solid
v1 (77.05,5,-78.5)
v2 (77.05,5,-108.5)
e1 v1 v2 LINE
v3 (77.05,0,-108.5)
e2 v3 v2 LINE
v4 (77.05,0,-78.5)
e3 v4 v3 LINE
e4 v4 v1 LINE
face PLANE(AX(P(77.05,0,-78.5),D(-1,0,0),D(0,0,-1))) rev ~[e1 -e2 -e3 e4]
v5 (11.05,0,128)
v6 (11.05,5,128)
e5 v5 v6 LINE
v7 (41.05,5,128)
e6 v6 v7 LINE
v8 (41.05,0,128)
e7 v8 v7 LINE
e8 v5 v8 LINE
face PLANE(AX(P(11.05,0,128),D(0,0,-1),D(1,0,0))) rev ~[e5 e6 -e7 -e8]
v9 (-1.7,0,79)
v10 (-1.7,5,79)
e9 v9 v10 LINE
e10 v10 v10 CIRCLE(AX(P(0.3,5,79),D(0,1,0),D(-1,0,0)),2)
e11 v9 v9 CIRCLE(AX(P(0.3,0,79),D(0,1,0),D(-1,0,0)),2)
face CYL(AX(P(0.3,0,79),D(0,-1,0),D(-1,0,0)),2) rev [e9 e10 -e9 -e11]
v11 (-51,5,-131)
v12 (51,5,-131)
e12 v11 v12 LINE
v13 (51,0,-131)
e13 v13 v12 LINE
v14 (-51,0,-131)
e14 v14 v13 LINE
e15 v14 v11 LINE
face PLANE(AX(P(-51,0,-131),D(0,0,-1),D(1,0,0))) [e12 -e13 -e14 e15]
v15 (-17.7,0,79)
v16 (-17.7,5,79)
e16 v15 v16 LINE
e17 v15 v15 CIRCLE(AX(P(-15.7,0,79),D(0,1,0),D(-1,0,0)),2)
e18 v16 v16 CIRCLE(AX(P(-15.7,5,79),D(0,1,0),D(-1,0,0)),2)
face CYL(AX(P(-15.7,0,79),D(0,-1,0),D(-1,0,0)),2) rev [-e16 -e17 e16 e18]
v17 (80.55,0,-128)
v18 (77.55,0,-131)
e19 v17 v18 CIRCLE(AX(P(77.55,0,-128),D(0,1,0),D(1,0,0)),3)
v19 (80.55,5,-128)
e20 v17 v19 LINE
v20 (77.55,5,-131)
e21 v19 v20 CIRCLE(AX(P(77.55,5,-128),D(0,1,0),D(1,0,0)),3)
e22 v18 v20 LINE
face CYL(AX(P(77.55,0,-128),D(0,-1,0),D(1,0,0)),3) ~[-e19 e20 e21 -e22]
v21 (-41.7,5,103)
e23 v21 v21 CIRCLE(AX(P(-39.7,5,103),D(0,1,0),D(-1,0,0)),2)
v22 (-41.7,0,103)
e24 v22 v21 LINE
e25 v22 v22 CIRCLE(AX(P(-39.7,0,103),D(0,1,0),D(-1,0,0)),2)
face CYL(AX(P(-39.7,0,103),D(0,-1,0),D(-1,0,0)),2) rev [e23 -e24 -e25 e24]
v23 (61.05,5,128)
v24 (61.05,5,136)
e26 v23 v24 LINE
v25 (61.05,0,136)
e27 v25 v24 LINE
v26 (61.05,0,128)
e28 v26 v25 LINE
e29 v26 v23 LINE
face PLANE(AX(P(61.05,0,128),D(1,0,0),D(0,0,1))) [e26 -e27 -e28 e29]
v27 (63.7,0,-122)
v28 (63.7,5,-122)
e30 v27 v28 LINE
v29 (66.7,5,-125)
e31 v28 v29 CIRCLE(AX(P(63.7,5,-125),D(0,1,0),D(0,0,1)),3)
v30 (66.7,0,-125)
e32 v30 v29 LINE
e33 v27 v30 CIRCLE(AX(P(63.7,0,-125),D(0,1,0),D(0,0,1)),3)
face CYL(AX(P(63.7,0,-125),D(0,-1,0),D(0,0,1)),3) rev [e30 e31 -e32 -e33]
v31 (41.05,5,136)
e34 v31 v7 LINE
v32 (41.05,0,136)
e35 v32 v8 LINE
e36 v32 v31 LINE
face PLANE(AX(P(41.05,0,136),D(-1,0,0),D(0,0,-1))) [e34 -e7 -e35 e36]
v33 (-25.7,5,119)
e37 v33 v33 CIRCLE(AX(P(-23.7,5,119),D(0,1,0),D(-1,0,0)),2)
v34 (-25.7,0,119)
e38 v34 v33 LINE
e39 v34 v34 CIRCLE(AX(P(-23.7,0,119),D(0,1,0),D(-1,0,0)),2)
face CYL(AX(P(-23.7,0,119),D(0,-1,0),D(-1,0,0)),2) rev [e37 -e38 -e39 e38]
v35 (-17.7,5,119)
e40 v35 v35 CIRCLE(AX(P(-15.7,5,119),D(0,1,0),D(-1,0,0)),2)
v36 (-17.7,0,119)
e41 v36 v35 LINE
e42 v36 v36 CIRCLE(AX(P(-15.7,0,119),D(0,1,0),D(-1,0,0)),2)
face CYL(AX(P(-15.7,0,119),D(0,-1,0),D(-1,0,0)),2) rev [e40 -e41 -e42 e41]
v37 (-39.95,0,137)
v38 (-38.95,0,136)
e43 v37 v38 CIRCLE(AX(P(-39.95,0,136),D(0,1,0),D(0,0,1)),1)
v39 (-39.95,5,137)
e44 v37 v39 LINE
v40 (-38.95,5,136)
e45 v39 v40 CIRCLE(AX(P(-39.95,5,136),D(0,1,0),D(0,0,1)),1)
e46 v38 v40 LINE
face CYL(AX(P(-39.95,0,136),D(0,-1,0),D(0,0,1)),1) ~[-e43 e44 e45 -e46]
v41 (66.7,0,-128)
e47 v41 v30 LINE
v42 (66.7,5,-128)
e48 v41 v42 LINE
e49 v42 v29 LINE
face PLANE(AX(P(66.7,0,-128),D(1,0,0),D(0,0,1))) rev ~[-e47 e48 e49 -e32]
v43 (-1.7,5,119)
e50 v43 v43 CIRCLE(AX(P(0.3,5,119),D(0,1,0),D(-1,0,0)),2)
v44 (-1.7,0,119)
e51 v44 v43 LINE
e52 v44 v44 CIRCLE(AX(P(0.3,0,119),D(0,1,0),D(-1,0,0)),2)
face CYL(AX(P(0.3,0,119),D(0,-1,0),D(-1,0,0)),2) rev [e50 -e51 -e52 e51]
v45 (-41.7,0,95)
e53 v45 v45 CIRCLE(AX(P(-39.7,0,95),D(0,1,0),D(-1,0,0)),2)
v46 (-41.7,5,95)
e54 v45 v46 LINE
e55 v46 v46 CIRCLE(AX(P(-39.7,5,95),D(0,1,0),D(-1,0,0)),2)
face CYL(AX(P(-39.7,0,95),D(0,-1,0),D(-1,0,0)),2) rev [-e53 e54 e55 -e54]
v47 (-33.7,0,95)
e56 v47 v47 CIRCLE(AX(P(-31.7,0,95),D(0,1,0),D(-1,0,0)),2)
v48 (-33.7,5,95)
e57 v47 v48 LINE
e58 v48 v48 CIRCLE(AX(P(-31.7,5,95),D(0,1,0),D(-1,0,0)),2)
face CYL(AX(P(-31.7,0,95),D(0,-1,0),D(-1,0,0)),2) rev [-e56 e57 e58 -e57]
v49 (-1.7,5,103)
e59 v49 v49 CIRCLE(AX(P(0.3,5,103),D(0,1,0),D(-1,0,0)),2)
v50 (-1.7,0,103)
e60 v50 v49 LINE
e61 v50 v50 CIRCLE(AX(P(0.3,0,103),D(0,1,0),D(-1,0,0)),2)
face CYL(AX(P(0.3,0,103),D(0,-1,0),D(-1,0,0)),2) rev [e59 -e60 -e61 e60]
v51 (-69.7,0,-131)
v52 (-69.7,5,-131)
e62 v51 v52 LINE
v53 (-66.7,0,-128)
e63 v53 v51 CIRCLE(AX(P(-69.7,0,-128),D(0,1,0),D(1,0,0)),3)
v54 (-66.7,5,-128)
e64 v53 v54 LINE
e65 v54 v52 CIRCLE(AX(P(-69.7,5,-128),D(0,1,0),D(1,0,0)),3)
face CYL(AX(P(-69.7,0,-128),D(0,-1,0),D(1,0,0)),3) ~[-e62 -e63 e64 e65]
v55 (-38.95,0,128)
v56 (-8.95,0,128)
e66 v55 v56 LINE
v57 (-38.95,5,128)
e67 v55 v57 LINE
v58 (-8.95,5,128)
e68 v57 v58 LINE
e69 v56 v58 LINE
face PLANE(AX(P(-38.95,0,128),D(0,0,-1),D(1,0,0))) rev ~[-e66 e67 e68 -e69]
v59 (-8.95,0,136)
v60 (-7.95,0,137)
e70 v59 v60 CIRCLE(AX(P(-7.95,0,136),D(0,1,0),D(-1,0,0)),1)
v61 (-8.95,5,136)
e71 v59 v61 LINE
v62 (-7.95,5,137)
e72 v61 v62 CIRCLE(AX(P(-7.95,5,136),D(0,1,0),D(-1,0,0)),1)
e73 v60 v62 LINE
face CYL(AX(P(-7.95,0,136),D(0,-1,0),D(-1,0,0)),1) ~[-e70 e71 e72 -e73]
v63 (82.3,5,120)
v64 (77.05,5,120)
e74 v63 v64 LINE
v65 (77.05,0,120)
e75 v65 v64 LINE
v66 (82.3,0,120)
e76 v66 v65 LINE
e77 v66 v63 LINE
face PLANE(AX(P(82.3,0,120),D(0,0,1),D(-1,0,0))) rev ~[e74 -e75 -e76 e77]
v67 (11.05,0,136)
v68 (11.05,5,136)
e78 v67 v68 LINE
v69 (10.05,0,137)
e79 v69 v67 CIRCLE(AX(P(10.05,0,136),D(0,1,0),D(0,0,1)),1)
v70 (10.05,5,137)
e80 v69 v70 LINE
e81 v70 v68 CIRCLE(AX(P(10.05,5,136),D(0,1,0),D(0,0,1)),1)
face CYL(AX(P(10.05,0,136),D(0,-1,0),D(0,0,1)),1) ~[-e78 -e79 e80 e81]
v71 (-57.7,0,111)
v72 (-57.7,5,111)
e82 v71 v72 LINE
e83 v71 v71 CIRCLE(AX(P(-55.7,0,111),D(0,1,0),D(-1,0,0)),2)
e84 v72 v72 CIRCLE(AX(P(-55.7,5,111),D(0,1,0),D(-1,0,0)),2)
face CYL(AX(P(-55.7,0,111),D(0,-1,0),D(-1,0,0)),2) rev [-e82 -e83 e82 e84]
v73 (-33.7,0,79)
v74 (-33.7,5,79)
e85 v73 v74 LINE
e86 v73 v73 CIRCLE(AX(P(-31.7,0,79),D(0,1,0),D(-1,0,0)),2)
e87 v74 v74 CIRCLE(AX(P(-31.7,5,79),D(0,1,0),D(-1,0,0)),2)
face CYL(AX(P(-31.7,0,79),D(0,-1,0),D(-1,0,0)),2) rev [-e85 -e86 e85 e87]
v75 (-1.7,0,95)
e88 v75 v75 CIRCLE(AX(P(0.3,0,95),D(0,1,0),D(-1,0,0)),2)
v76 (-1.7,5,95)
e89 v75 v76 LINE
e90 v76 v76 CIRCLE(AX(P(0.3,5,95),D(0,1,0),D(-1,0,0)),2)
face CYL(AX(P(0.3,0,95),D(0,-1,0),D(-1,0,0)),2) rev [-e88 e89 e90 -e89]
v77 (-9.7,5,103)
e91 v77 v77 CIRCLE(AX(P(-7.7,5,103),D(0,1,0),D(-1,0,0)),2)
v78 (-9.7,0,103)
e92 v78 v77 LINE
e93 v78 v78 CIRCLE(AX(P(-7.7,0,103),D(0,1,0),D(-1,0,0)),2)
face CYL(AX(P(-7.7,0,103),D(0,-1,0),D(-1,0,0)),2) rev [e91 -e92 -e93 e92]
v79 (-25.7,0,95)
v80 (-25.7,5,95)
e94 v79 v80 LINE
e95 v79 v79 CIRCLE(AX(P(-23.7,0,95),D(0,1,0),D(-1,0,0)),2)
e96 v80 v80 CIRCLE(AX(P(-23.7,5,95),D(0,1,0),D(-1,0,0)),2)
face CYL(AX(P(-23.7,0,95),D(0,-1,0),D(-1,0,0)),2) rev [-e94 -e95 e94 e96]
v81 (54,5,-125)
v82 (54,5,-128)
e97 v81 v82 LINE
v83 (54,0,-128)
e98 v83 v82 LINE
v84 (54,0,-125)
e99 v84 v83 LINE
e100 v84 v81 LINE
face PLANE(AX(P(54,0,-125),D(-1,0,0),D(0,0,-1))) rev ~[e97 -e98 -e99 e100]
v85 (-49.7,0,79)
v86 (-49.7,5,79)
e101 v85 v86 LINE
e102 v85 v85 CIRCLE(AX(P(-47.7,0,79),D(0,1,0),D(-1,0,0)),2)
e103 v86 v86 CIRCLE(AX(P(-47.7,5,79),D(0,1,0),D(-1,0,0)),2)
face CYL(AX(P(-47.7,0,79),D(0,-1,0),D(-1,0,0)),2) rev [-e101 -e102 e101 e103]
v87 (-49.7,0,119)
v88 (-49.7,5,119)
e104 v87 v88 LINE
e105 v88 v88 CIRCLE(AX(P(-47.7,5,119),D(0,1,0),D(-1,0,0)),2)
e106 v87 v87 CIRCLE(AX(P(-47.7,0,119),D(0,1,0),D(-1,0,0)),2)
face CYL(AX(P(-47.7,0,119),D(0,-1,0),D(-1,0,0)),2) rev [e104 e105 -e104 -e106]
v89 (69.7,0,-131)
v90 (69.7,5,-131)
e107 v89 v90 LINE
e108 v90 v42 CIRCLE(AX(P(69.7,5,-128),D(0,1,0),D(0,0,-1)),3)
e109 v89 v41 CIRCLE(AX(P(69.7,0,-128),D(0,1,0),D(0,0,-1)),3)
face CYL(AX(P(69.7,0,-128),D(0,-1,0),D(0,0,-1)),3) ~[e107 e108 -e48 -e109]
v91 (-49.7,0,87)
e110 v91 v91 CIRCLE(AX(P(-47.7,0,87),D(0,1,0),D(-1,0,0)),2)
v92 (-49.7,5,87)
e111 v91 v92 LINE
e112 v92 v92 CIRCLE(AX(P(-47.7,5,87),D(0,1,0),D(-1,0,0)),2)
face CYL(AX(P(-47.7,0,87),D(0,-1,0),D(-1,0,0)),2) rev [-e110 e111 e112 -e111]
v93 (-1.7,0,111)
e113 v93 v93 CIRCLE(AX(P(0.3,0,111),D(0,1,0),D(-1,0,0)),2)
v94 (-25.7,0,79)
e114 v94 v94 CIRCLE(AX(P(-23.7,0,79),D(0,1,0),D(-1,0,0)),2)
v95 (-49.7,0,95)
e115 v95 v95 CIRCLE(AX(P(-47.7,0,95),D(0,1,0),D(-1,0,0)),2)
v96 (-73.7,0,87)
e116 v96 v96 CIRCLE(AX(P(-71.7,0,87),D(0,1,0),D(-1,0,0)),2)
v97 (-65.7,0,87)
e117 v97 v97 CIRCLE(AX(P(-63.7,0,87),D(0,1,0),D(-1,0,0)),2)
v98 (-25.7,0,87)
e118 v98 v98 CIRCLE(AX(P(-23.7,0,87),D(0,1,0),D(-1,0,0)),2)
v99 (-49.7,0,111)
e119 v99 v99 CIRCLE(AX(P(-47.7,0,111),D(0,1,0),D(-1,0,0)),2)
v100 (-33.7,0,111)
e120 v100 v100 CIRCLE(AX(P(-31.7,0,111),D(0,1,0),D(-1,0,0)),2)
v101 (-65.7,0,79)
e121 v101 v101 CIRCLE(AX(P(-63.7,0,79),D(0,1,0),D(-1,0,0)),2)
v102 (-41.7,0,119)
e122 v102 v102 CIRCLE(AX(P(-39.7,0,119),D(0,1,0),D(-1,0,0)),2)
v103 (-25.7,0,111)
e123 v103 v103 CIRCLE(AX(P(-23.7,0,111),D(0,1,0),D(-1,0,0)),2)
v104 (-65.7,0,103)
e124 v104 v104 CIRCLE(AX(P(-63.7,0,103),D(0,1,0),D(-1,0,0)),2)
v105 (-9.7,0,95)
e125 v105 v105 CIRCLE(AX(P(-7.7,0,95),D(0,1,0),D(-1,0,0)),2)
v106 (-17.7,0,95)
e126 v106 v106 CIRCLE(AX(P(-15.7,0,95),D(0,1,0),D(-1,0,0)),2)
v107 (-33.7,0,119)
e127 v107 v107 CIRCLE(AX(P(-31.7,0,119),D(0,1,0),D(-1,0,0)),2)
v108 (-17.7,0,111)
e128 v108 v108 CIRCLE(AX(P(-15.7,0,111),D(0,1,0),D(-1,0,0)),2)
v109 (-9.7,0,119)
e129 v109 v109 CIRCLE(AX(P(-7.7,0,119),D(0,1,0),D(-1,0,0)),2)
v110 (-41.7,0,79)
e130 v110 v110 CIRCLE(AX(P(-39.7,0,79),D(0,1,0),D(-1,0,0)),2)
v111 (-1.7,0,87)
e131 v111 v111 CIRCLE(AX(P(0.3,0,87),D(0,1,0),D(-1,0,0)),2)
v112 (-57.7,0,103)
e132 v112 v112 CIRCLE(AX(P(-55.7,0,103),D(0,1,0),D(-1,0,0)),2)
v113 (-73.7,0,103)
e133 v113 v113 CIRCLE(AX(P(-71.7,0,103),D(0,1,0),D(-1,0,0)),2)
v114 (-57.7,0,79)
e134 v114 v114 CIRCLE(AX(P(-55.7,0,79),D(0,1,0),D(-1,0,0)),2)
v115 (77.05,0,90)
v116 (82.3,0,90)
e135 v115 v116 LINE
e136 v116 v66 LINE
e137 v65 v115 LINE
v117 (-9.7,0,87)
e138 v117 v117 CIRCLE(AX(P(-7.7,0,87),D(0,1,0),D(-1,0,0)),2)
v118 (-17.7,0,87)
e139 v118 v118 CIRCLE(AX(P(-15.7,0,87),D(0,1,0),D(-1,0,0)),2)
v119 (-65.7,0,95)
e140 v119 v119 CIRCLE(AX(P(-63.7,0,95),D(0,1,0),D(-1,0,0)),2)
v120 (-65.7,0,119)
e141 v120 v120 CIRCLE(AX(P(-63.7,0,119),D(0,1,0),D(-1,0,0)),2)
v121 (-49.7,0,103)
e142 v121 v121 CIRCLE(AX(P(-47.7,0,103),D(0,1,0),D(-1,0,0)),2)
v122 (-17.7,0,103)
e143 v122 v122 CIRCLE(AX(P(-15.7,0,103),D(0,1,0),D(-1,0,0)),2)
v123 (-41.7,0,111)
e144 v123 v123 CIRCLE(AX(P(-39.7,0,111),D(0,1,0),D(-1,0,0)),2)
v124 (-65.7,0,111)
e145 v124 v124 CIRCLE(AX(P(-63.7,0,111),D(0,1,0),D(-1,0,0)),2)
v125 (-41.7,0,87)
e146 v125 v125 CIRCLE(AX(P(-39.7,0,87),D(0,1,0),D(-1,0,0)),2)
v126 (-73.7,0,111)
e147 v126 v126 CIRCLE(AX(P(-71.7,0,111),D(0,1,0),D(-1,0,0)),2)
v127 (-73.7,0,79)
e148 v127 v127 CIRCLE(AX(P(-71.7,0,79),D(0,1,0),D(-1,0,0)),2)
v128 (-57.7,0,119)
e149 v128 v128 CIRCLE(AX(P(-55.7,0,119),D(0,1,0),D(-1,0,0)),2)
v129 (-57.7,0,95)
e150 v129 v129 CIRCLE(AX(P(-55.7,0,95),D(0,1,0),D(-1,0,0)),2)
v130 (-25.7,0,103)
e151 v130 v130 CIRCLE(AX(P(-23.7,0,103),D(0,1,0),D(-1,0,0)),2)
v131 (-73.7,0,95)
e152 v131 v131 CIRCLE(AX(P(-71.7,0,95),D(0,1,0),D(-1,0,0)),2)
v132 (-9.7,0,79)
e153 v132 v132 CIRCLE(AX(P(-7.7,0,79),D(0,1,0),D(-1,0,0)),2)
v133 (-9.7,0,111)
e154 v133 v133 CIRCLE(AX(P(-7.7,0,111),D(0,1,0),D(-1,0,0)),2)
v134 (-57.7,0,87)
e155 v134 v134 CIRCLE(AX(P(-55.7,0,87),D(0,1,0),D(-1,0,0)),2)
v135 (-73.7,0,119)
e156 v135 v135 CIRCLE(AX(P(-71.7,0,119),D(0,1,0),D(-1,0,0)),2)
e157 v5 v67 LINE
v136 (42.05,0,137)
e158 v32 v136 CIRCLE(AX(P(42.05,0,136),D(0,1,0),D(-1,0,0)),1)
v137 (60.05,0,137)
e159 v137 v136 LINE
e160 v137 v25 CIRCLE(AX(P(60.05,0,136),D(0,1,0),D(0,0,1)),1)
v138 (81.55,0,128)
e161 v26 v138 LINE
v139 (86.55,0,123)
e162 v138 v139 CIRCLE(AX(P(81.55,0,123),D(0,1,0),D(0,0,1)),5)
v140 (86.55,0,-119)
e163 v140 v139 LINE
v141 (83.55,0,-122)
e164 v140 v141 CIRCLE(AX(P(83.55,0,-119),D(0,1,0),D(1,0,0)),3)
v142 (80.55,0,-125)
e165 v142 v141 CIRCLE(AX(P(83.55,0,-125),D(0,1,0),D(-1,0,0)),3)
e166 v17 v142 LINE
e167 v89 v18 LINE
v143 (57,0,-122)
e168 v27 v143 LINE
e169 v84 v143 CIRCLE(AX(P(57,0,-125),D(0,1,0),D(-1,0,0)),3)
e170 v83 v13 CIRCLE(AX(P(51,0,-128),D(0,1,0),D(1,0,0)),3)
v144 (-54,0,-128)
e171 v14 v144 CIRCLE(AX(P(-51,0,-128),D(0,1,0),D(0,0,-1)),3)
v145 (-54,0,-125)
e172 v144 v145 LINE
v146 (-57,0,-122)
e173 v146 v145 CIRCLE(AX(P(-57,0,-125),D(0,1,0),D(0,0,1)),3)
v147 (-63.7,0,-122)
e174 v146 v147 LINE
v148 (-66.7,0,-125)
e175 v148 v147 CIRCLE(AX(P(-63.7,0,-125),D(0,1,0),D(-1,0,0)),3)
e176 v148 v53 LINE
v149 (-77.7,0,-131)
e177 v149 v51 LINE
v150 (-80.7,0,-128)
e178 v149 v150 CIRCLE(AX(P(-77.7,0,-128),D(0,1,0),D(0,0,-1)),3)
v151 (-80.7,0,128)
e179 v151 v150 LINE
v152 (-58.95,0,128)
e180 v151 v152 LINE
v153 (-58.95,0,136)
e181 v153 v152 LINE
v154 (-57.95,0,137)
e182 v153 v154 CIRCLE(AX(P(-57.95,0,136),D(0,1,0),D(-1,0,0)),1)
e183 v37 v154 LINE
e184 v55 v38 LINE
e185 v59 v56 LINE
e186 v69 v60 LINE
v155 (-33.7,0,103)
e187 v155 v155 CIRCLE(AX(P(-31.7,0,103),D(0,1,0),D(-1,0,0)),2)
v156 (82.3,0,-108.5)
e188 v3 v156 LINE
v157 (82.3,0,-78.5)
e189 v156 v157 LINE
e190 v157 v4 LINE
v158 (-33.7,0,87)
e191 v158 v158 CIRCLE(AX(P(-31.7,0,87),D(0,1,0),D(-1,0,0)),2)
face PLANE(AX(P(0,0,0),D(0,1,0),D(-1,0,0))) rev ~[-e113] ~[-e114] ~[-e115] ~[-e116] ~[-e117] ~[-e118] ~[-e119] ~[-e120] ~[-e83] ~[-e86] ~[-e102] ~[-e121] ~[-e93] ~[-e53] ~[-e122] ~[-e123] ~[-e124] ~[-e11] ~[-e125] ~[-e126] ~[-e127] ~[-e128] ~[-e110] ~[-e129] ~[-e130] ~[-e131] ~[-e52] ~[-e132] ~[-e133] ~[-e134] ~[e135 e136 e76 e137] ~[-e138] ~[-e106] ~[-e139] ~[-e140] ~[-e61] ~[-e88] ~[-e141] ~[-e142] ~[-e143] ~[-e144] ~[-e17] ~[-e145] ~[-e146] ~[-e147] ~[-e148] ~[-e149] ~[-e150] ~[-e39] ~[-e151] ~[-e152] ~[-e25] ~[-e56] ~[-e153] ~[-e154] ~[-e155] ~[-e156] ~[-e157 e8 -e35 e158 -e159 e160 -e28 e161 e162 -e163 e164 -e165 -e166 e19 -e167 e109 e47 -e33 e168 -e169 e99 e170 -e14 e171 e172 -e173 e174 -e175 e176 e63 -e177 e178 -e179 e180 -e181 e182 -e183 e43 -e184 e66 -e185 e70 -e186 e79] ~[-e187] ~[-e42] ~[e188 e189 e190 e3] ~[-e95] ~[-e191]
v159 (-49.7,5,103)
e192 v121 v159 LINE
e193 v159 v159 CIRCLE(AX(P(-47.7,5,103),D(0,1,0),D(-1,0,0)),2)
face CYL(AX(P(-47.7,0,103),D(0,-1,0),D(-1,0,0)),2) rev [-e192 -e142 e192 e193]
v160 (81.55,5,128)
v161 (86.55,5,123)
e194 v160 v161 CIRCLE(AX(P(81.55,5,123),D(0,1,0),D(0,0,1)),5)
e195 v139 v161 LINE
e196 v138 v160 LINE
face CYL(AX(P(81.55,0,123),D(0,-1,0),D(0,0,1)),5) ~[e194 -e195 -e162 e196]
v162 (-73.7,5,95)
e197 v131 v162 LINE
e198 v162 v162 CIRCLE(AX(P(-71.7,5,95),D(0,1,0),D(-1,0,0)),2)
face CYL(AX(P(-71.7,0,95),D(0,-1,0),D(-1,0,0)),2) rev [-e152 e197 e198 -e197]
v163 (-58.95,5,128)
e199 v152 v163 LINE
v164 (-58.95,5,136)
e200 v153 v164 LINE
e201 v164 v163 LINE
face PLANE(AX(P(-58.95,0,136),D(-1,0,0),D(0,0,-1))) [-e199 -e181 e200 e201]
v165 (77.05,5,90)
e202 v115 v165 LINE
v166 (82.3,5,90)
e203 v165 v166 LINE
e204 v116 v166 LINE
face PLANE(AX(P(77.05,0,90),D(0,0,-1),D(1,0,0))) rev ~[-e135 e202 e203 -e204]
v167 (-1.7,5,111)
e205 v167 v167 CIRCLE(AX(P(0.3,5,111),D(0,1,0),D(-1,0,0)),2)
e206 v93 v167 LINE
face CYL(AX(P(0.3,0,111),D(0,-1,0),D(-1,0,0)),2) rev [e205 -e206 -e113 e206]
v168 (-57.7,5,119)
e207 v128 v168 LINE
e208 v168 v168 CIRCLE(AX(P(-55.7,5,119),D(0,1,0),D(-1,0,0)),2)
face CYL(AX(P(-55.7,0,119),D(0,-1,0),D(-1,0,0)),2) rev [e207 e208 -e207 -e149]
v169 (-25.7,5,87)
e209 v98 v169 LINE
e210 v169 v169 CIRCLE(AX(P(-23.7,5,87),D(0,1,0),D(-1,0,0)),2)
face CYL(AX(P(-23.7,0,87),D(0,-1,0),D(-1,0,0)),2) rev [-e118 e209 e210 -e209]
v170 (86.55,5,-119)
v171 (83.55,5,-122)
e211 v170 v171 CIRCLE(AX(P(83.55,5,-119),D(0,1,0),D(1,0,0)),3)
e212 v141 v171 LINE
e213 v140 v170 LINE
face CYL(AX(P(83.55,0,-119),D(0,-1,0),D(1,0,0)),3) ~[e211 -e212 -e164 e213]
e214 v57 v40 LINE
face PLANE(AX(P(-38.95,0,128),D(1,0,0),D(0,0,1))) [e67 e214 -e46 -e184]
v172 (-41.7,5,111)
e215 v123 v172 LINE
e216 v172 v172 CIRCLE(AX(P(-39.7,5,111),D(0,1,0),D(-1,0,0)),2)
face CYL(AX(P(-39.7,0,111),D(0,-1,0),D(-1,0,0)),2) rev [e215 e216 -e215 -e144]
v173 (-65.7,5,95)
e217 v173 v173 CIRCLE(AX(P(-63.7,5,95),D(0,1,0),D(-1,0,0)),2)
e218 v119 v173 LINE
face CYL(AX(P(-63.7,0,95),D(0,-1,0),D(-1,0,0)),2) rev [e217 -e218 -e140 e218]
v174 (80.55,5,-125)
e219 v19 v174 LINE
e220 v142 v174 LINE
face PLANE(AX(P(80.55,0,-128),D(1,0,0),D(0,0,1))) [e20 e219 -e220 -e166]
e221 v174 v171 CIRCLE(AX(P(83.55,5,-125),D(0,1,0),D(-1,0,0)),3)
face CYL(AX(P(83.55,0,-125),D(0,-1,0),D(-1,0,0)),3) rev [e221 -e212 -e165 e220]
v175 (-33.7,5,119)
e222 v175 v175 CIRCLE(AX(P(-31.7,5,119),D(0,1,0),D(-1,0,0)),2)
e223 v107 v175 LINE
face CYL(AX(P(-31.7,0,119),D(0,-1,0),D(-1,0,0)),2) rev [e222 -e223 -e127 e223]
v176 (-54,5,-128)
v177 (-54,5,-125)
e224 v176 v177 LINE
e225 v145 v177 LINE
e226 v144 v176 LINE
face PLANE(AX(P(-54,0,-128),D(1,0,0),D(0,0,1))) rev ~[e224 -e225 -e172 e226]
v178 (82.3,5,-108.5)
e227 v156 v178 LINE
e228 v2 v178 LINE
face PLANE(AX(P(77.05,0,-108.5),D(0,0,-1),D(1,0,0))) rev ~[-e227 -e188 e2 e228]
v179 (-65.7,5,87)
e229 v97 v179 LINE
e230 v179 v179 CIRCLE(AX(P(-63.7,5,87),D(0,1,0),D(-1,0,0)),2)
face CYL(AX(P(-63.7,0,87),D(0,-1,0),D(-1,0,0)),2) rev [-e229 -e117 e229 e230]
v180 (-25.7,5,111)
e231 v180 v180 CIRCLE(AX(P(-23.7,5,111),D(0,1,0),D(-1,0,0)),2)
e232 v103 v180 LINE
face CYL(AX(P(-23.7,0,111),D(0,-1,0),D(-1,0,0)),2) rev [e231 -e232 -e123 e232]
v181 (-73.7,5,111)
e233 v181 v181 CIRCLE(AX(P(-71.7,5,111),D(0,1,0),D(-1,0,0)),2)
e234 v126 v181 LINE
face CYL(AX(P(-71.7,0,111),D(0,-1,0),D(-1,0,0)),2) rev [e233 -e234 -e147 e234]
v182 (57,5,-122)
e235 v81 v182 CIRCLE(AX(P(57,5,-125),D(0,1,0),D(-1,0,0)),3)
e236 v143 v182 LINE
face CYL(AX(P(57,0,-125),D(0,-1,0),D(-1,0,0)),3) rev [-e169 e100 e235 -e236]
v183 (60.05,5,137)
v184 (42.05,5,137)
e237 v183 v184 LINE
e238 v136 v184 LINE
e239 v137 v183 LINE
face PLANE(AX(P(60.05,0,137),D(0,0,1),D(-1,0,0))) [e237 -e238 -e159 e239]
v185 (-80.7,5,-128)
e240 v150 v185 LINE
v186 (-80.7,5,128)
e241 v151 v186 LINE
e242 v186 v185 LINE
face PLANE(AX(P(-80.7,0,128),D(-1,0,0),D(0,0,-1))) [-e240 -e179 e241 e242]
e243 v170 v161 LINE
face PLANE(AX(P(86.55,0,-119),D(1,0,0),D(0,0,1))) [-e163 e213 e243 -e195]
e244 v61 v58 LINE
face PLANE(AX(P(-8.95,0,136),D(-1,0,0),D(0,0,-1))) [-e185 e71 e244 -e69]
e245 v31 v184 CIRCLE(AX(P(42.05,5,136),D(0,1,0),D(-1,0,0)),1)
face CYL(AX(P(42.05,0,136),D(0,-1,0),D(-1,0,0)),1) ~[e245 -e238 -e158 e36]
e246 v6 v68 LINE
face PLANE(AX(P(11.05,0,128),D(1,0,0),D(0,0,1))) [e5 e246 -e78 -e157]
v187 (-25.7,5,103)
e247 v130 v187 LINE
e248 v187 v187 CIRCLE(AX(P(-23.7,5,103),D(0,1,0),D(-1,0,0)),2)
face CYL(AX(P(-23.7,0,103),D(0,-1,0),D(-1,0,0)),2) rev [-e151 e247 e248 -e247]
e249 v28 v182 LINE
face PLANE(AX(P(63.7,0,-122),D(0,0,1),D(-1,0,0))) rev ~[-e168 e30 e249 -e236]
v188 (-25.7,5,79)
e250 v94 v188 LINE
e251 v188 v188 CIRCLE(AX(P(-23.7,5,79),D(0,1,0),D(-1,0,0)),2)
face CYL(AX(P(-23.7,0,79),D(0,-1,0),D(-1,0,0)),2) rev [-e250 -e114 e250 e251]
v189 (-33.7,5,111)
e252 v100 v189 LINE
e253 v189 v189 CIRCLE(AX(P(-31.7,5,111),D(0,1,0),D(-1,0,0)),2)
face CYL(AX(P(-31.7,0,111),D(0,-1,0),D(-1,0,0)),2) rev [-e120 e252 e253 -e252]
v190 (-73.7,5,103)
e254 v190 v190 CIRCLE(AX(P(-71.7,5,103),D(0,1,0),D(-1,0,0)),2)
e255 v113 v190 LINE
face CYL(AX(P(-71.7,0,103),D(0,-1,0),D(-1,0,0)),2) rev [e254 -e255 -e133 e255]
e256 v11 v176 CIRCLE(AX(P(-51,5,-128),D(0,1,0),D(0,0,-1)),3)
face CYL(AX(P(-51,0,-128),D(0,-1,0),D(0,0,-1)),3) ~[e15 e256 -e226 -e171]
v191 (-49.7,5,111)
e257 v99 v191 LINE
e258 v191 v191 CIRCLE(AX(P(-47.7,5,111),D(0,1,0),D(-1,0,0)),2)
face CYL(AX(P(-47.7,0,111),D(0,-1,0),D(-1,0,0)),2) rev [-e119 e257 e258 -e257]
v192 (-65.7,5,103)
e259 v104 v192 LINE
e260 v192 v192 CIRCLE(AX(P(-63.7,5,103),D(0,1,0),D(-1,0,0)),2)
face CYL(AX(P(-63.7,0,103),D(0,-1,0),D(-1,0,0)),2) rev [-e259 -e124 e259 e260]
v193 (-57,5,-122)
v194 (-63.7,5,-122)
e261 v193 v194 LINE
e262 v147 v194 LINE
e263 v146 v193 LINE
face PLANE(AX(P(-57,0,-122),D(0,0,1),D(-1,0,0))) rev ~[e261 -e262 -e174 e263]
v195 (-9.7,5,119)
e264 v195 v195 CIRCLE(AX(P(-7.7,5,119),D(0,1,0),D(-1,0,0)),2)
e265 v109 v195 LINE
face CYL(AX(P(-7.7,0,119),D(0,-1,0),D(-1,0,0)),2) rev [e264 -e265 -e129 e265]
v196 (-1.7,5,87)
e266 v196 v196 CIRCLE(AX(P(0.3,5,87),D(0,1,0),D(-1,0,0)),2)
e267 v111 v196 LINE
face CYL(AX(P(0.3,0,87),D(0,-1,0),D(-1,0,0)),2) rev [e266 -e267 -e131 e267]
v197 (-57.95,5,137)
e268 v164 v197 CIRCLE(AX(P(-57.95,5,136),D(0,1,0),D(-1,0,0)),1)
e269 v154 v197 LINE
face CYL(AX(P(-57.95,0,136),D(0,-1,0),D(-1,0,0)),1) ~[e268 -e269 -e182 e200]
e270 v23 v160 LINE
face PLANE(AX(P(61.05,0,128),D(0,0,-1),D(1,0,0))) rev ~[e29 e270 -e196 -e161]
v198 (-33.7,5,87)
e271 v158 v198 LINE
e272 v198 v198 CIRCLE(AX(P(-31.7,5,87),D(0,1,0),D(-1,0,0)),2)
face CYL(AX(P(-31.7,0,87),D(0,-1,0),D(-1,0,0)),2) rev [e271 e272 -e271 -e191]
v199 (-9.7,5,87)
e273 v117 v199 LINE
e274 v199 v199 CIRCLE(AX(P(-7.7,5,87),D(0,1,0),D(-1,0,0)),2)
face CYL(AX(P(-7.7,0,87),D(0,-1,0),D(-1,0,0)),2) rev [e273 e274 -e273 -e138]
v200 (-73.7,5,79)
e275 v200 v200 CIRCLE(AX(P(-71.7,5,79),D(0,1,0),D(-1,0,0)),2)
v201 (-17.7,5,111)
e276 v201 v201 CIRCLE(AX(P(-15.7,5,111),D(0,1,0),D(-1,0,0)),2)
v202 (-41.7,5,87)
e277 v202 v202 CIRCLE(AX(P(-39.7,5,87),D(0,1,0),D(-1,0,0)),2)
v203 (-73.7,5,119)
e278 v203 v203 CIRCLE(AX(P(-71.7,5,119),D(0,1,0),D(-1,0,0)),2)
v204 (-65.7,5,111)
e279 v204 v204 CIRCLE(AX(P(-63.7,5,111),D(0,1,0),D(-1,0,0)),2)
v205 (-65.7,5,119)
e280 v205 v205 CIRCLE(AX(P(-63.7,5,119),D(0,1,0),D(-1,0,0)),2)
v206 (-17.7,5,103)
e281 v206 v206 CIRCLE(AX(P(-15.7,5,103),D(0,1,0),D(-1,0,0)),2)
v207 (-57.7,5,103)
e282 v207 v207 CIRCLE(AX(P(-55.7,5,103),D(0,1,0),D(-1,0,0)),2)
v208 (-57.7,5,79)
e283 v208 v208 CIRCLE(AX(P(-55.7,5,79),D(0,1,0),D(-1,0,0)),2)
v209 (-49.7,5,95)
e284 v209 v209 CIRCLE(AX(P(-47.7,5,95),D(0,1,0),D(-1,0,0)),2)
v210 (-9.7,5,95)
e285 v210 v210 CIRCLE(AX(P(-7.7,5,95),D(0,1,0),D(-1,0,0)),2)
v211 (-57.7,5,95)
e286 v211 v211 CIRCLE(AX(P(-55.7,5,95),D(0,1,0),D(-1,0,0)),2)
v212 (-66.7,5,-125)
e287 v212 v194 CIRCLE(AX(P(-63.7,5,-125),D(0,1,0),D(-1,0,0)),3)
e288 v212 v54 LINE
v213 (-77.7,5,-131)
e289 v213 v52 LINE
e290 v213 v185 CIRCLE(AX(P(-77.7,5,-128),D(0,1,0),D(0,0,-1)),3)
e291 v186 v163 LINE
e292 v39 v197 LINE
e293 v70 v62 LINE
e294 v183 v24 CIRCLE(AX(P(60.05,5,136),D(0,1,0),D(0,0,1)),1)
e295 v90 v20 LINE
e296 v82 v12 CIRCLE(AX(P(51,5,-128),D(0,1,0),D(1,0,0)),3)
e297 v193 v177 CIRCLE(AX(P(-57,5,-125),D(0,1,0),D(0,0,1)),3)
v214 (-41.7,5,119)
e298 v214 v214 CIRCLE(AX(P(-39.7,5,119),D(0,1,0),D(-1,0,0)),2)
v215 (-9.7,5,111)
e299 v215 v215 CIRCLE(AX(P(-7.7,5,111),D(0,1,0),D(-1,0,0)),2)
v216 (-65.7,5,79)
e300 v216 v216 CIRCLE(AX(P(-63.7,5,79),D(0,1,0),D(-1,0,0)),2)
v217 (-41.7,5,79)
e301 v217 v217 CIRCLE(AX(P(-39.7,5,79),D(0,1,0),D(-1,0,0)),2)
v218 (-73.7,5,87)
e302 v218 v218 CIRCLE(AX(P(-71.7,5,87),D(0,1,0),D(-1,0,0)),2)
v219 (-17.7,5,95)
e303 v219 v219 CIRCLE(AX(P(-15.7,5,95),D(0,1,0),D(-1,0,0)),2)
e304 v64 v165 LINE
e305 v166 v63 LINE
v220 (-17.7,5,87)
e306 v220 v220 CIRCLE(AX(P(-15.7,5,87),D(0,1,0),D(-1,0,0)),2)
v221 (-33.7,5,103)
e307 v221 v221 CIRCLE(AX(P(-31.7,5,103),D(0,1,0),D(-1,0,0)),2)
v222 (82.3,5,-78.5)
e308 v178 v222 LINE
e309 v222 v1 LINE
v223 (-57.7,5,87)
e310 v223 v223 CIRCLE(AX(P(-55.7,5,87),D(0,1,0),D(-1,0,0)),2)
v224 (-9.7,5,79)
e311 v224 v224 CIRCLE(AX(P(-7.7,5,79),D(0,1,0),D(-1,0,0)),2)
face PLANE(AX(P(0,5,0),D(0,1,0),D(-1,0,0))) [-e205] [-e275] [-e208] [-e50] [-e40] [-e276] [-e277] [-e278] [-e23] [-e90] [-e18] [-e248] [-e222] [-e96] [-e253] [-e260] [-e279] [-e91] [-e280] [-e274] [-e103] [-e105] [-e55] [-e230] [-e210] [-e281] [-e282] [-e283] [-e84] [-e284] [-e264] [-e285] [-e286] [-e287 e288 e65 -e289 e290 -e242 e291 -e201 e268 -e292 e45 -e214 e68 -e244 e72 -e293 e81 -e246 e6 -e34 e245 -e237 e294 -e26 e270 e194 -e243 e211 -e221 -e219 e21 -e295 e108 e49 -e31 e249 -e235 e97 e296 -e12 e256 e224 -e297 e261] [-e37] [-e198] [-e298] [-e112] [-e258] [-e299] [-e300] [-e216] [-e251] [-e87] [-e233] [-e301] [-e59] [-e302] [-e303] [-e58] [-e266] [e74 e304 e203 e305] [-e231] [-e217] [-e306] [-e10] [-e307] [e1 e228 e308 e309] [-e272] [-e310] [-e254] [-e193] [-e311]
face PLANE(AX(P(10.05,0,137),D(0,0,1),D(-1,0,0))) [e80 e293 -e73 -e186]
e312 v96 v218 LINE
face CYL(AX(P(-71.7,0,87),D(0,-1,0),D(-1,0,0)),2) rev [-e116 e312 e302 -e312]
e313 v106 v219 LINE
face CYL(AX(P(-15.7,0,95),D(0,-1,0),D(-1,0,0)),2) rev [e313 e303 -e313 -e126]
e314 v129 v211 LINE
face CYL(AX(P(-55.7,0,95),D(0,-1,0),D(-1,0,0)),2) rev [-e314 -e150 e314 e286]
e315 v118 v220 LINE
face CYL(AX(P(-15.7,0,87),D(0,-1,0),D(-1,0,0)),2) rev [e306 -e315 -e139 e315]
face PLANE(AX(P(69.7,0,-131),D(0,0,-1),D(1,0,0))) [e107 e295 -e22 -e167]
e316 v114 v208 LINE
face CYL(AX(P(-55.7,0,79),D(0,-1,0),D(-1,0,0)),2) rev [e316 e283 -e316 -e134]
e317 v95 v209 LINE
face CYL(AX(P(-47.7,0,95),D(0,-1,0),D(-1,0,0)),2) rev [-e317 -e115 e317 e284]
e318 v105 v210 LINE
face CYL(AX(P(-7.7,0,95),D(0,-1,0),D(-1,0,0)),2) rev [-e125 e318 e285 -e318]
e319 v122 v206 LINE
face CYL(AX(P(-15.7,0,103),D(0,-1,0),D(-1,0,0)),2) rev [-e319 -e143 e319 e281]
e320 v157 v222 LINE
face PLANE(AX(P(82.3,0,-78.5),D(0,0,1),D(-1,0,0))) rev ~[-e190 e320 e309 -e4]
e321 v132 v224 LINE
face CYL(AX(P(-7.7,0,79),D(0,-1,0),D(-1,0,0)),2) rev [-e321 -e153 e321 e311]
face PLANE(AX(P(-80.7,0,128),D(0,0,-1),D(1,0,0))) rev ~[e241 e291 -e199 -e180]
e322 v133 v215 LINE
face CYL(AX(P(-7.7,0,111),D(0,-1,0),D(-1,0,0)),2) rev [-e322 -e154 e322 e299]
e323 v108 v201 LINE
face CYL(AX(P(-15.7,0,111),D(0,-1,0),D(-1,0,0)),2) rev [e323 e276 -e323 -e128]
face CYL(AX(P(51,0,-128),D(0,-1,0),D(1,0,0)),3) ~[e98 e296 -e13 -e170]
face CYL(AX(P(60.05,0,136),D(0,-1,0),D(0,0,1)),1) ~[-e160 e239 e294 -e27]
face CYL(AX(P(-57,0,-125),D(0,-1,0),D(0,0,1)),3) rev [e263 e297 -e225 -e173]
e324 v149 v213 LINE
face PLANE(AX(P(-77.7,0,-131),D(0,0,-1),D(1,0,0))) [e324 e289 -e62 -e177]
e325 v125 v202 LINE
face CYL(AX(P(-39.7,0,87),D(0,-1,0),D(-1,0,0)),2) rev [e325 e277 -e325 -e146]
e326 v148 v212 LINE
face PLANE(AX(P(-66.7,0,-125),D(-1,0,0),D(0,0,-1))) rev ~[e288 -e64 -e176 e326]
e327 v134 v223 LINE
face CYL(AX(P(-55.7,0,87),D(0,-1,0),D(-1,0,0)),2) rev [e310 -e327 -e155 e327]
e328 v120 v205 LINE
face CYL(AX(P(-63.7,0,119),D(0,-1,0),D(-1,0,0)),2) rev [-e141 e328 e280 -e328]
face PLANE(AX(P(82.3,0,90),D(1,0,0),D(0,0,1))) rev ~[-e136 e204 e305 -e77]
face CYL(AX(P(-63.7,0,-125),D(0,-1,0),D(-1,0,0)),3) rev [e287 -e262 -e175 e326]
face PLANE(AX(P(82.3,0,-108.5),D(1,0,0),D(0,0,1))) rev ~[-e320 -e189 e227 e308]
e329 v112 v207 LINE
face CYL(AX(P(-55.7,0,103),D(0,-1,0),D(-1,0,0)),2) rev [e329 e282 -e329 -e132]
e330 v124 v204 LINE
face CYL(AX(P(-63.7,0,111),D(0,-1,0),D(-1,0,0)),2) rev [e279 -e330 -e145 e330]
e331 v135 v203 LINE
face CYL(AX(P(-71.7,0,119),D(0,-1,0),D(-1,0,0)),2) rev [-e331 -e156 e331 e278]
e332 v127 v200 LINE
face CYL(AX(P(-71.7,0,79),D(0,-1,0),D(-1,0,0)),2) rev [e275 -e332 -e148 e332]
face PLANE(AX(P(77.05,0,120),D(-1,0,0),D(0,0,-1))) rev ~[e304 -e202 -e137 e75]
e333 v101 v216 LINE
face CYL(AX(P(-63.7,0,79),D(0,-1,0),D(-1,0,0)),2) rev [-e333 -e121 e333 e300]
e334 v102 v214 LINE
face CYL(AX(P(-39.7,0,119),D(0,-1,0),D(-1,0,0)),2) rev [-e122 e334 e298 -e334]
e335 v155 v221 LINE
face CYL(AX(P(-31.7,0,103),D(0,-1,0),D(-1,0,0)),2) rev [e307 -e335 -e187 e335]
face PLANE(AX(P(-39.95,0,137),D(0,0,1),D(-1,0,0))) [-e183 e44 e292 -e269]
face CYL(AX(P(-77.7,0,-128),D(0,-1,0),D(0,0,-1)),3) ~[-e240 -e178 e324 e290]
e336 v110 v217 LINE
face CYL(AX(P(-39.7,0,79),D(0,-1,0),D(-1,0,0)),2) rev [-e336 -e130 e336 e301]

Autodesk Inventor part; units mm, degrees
ref_plane "YZ Plane" through (0, 0, 0) normal (1, 0, 0) x (0, 1, 0)
ref_plane "XZ Plane" through (0, 0, 0) normal (0, 1, 0) x (-1, 0, 0)
ref_plane "XY Plane" through (0, 0, 0) normal (0, 0, 1) x (1, 0, 0)
sketch "Sketch1" plane through (0, 0, 0) normal (0, 1, 0) x (-1, 0, 0)
  line L0 (80.7, 128) -> (80.7, -128)
  line L1 (58.95, 128) -> (38.95, 128)
  line L2 (38.95, 128) -> (38.95, 136)
  line L3 (39.95, 137) -> (57.95, 137)
  line L4 (58.95, 136) -> (58.95, 128)
  line L5 (8.95, 128) -> (-11.05, 128)
  line L6 (-11.05, 128) -> (-11.05, 136)
  line L7 (-10.05, 137) -> (7.95, 137)
  line L8 (8.95, 136) -> (8.95, 128)
  line L9 (-41.05, 128) -> (-61.05, 128)
  line L10 (-61.05, 128) -> (-61.05, 136)
  line L11 (-60.05, 137) -> (-42.05, 137)
  line L12 (-41.05, 136) -> (-41.05, 128)
  arc A0 (58.95, 136) -> (57.95, 137) centre (57.95, 136) ccw
  arc A1 (39.95, 137) -> (38.95, 136) centre (39.95, 136) ccw
  arc A2 (8.95, 136) -> (7.95, 137) centre (7.95, 136) ccw
  arc A3 (-10.05, 137) -> (-11.05, 136) centre (-10.05, 136) ccw
  arc A4 (-41.05, 136) -> (-42.05, 137) centre (-42.05, 136) ccw
  arc A5 (-60.05, 137) -> (-61.05, 136) centre (-60.05, 136) ccw
  line L13 (54, -128) -> (54, -125)
  line L14 (57, -122) -> (63.7, -122)
  line L15 (66.7, -125) -> (66.7, -128)
  line L16 (-66.7, -128) -> (-66.7, -125)
  line L17 (-63.7, -122) -> (-57, -122)
  line L18 (-54, -125) -> (-54, -128)
  line L19 (-80.55, -128) -> (-80.55, -125)
  line L20 (-80.7, 50.1326) -> (10.3, 50.1326) construction
  line L21 (77.7, -131) -> (69.7, -131)
  line L22 (51, -131) -> (-51, -131)
  line L23 (-69.7, -131) -> (-77.55, -131)
  line L24 (-86.55, -119) -> (-86.55, 123)
  line L25 (80.7, 128) -> (-81.55, 128)
  line L26 (-83.55, -122) -> (-83.55, -122)
  arc A6 (77.7, -131) -> (80.7, -128) centre (77.7, -128) ccw
  arc A7 (66.7, -125) -> (63.7, -122) centre (63.7, -125) ccw
  arc A8 (57, -122) -> (54, -125) centre (57, -125) ccw
  arc A9 (51, -131) -> (54, -128) centre (51, -128) ccw
  arc A10 (-54, -128) -> (-51, -131) centre (-51, -128) ccw
  arc A11 (-63.7, -122) -> (-66.7, -125) centre (-63.7, -125) ccw
  arc A12 (-69.7, -131) -> (-66.7, -128) centre (-69.7, -128) ccw
  arc A13 (-80.55, -128) -> (-77.55, -131) centre (-77.55, -128) ccw
  arc A14 (-80.55, -125) -> (-83.55, -122) centre (-83.55, -125) ccw
  arc A15 (66.7, -128) -> (69.7, -131) centre (69.7, -128) ccw
  arc A16 (-54, -125) -> (-57, -122) centre (-57, -125) ccw
  arc A17 (-86.55, -119) -> (-83.55, -122) centre (-83.55, -119) ccw
  arc A18 (-81.55, 128) -> (-86.55, 123) centre (-81.55, 123) ccw
  line L27 (-77.05, -108.5) -> (-82.3, -108.5)
  line L28 (-82.3, -108.5) -> (-82.3, -78.5)
  line L29 (-82.3, -78.5) -> (-77.05, -78.5)
  line L30 (-77.05, -78.5) -> (-77.05, -108.5)
  line L31 (-77.05, 90) -> (-82.3, 90)
  line L32 (-82.3, 90) -> (-82.3, 120)
  line L33 (-82.3, 120) -> (-77.05, 120)
  line L34 (-77.05, 120) -> (-77.05, 90)
  circle A19 centre (71.7, 79) radius 2
  circle A20 centre (63.7, 79) radius 2
  circle A21 centre (55.7, 79) radius 2
  circle A22 centre (47.7, 79) radius 2
  circle A23 centre (39.7, 79) radius 2
  circle A24 centre (31.7, 79) radius 2
  circle A25 centre (23.7, 79) radius 2
  circle A26 centre (15.7, 79) radius 2
  circle A27 centre (7.7, 79) radius 2
  circle A28 centre (-0.3, 79) radius 2
  circle A29 centre (71.7, 87) radius 2
  circle A30 centre (63.7, 87) radius 2
  circle A31 centre (55.7, 87) radius 2
  circle A32 centre (47.7, 87) radius 2
  circle A33 centre (39.7, 87) radius 2
  circle A34 centre (31.7, 87) radius 2
  circle A35 centre (23.7, 87) radius 2
  circle A36 centre (15.7, 87) radius 2
  circle A37 centre (7.7, 87) radius 2
  circle A38 centre (-0.3, 87) radius 2
  circle A39 centre (71.7, 95) radius 2
  circle A40 centre (63.7, 95) radius 2
  circle A41 centre (55.7, 95) radius 2
  circle A42 centre (47.7, 95) radius 2
  circle A43 centre (39.7, 95) radius 2
  circle A44 centre (31.7, 95) radius 2
  circle A45 centre (23.7, 95) radius 2
  circle A46 centre (15.7, 95) radius 2
  circle A47 centre (7.7, 95) radius 2
  circle A48 centre (-0.3, 95) radius 2
  circle A49 centre (71.7, 103) radius 2
  circle A50 centre (63.7, 103) radius 2
  circle A51 centre (55.7, 103) radius 2
  circle A52 centre (47.7, 103) radius 2
  circle A53 centre (39.7, 103) radius 2
  circle A54 centre (31.7, 103) radius 2
  circle A55 centre (23.7, 103) radius 2
  circle A56 centre (15.7, 103) radius 2
  circle A57 centre (7.7, 103) radius 2
  circle A58 centre (-0.3, 103) radius 2
  circle A59 centre (71.7, 111) radius 2
  circle A60 centre (63.7, 111) radius 2
  circle A61 centre (55.7, 111) radius 2
  circle A62 centre (47.7, 111) radius 2
  circle A63 centre (39.7, 111) radius 2
  circle A64 centre (31.7, 111) radius 2
  circle A65 centre (23.7, 111) radius 2
  circle A66 centre (15.7, 111) radius 2
  circle A67 centre (7.7, 111) radius 2
  circle A68 centre (-0.3, 111) radius 2
  circle A69 centre (71.7, 119) radius 2
  circle A70 centre (63.7, 119) radius 2
  circle A71 centre (55.7, 119) radius 2
  circle A72 centre (47.7, 119) radius 2
  circle A73 centre (39.7, 119) radius 2
  circle A74 centre (31.7, 119) radius 2
  circle A75 centre (23.7, 119) radius 2
  circle A76 centre (15.7, 119) radius 2
  circle A77 centre (7.7, 119) radius 2
  circle A78 centre (-0.3, 119) radius 2
  point P0 (0, 0)
  point P1 (80.7, -131)
  point P2 (38.95, 137)
  point P3 (58.95, 137)
  point P4 (51.875, 50)
  point P5 (-11.05, 137)
  point P6 (8.95, 137)
  point P7 (1.875, 137)
  point P8 (-61.05, 137)
  point P9 (-41.05, 137)
  point P10 (-25.2224, 47.0516)
  point P11 (48.95, 128)
  point P12 (-1.05, 128)
  point P13 (-51.05, 128)
  point P14 (48.95, 137)
  point P15 (-1.05, 137)
  point P16 (-51.05, 137)
  point P17 (66.7, -131)
  point P18 (54, -122)
  point P19 (54, -131)
  point P20 (66.7, -122)
  point P21 (-54, -131)
  point P22 (-66.7, -122)
  point P23 (-66.7, -131)
  point P24 (-54, -122)
  point P25 (-80.55, -131)
  point P26 (-80.55, -122)
  point P27 (0, -131)
  point P28 (0, 50.1326)
  point P29 (-73.625, -131)
  point P30 (73.7, -131)
  point P31 (80.7, 0)
  dimension "d2" = 21.75
  dimension "d3" = 20
  dimension "d4" = 30
  dimension "d5" = 20
  dimension "d6" = 30
  dimension "d7" = 20
  dimension "d8" = 9
  dimension "d9" = 1
  dimension "d14" = 108
  dimension "d15" = 14
  dimension "d19" = 9
  dimension "d24" = 12.7
  dimension "d25" = 167.25
  dimension "d26" = 3
  dimension "d27" = 3
  dimension "d28" = 3
  dimension "d29" = 12.7
  dimension "d30" = 6
  dimension "d31" = 3
  dimension "d32" = 5
  dimension "d33" = 4.25
  dimension "d34" = 5.25
  dimension "d35" = 30
  dimension "d37" = 8
  dimension "d38" = 4
  dimension "d41" = 8
  dimension "d44" = 8
  dimension "d47" = 9
  dimension "d48" = 9
  dimension "d52" = 250
  dimension "d53" = 22.5
extrude "Extrusion1" add sketch "Sketch1" along normal blind 5
equation "\"d5\" = d3"
equation "\"d6\" = d4"
equation "\"d7\" = d5"
equation "\"d29\" = d24"
equation "\"d48\" = d47"
properties part number "Side_wall"
